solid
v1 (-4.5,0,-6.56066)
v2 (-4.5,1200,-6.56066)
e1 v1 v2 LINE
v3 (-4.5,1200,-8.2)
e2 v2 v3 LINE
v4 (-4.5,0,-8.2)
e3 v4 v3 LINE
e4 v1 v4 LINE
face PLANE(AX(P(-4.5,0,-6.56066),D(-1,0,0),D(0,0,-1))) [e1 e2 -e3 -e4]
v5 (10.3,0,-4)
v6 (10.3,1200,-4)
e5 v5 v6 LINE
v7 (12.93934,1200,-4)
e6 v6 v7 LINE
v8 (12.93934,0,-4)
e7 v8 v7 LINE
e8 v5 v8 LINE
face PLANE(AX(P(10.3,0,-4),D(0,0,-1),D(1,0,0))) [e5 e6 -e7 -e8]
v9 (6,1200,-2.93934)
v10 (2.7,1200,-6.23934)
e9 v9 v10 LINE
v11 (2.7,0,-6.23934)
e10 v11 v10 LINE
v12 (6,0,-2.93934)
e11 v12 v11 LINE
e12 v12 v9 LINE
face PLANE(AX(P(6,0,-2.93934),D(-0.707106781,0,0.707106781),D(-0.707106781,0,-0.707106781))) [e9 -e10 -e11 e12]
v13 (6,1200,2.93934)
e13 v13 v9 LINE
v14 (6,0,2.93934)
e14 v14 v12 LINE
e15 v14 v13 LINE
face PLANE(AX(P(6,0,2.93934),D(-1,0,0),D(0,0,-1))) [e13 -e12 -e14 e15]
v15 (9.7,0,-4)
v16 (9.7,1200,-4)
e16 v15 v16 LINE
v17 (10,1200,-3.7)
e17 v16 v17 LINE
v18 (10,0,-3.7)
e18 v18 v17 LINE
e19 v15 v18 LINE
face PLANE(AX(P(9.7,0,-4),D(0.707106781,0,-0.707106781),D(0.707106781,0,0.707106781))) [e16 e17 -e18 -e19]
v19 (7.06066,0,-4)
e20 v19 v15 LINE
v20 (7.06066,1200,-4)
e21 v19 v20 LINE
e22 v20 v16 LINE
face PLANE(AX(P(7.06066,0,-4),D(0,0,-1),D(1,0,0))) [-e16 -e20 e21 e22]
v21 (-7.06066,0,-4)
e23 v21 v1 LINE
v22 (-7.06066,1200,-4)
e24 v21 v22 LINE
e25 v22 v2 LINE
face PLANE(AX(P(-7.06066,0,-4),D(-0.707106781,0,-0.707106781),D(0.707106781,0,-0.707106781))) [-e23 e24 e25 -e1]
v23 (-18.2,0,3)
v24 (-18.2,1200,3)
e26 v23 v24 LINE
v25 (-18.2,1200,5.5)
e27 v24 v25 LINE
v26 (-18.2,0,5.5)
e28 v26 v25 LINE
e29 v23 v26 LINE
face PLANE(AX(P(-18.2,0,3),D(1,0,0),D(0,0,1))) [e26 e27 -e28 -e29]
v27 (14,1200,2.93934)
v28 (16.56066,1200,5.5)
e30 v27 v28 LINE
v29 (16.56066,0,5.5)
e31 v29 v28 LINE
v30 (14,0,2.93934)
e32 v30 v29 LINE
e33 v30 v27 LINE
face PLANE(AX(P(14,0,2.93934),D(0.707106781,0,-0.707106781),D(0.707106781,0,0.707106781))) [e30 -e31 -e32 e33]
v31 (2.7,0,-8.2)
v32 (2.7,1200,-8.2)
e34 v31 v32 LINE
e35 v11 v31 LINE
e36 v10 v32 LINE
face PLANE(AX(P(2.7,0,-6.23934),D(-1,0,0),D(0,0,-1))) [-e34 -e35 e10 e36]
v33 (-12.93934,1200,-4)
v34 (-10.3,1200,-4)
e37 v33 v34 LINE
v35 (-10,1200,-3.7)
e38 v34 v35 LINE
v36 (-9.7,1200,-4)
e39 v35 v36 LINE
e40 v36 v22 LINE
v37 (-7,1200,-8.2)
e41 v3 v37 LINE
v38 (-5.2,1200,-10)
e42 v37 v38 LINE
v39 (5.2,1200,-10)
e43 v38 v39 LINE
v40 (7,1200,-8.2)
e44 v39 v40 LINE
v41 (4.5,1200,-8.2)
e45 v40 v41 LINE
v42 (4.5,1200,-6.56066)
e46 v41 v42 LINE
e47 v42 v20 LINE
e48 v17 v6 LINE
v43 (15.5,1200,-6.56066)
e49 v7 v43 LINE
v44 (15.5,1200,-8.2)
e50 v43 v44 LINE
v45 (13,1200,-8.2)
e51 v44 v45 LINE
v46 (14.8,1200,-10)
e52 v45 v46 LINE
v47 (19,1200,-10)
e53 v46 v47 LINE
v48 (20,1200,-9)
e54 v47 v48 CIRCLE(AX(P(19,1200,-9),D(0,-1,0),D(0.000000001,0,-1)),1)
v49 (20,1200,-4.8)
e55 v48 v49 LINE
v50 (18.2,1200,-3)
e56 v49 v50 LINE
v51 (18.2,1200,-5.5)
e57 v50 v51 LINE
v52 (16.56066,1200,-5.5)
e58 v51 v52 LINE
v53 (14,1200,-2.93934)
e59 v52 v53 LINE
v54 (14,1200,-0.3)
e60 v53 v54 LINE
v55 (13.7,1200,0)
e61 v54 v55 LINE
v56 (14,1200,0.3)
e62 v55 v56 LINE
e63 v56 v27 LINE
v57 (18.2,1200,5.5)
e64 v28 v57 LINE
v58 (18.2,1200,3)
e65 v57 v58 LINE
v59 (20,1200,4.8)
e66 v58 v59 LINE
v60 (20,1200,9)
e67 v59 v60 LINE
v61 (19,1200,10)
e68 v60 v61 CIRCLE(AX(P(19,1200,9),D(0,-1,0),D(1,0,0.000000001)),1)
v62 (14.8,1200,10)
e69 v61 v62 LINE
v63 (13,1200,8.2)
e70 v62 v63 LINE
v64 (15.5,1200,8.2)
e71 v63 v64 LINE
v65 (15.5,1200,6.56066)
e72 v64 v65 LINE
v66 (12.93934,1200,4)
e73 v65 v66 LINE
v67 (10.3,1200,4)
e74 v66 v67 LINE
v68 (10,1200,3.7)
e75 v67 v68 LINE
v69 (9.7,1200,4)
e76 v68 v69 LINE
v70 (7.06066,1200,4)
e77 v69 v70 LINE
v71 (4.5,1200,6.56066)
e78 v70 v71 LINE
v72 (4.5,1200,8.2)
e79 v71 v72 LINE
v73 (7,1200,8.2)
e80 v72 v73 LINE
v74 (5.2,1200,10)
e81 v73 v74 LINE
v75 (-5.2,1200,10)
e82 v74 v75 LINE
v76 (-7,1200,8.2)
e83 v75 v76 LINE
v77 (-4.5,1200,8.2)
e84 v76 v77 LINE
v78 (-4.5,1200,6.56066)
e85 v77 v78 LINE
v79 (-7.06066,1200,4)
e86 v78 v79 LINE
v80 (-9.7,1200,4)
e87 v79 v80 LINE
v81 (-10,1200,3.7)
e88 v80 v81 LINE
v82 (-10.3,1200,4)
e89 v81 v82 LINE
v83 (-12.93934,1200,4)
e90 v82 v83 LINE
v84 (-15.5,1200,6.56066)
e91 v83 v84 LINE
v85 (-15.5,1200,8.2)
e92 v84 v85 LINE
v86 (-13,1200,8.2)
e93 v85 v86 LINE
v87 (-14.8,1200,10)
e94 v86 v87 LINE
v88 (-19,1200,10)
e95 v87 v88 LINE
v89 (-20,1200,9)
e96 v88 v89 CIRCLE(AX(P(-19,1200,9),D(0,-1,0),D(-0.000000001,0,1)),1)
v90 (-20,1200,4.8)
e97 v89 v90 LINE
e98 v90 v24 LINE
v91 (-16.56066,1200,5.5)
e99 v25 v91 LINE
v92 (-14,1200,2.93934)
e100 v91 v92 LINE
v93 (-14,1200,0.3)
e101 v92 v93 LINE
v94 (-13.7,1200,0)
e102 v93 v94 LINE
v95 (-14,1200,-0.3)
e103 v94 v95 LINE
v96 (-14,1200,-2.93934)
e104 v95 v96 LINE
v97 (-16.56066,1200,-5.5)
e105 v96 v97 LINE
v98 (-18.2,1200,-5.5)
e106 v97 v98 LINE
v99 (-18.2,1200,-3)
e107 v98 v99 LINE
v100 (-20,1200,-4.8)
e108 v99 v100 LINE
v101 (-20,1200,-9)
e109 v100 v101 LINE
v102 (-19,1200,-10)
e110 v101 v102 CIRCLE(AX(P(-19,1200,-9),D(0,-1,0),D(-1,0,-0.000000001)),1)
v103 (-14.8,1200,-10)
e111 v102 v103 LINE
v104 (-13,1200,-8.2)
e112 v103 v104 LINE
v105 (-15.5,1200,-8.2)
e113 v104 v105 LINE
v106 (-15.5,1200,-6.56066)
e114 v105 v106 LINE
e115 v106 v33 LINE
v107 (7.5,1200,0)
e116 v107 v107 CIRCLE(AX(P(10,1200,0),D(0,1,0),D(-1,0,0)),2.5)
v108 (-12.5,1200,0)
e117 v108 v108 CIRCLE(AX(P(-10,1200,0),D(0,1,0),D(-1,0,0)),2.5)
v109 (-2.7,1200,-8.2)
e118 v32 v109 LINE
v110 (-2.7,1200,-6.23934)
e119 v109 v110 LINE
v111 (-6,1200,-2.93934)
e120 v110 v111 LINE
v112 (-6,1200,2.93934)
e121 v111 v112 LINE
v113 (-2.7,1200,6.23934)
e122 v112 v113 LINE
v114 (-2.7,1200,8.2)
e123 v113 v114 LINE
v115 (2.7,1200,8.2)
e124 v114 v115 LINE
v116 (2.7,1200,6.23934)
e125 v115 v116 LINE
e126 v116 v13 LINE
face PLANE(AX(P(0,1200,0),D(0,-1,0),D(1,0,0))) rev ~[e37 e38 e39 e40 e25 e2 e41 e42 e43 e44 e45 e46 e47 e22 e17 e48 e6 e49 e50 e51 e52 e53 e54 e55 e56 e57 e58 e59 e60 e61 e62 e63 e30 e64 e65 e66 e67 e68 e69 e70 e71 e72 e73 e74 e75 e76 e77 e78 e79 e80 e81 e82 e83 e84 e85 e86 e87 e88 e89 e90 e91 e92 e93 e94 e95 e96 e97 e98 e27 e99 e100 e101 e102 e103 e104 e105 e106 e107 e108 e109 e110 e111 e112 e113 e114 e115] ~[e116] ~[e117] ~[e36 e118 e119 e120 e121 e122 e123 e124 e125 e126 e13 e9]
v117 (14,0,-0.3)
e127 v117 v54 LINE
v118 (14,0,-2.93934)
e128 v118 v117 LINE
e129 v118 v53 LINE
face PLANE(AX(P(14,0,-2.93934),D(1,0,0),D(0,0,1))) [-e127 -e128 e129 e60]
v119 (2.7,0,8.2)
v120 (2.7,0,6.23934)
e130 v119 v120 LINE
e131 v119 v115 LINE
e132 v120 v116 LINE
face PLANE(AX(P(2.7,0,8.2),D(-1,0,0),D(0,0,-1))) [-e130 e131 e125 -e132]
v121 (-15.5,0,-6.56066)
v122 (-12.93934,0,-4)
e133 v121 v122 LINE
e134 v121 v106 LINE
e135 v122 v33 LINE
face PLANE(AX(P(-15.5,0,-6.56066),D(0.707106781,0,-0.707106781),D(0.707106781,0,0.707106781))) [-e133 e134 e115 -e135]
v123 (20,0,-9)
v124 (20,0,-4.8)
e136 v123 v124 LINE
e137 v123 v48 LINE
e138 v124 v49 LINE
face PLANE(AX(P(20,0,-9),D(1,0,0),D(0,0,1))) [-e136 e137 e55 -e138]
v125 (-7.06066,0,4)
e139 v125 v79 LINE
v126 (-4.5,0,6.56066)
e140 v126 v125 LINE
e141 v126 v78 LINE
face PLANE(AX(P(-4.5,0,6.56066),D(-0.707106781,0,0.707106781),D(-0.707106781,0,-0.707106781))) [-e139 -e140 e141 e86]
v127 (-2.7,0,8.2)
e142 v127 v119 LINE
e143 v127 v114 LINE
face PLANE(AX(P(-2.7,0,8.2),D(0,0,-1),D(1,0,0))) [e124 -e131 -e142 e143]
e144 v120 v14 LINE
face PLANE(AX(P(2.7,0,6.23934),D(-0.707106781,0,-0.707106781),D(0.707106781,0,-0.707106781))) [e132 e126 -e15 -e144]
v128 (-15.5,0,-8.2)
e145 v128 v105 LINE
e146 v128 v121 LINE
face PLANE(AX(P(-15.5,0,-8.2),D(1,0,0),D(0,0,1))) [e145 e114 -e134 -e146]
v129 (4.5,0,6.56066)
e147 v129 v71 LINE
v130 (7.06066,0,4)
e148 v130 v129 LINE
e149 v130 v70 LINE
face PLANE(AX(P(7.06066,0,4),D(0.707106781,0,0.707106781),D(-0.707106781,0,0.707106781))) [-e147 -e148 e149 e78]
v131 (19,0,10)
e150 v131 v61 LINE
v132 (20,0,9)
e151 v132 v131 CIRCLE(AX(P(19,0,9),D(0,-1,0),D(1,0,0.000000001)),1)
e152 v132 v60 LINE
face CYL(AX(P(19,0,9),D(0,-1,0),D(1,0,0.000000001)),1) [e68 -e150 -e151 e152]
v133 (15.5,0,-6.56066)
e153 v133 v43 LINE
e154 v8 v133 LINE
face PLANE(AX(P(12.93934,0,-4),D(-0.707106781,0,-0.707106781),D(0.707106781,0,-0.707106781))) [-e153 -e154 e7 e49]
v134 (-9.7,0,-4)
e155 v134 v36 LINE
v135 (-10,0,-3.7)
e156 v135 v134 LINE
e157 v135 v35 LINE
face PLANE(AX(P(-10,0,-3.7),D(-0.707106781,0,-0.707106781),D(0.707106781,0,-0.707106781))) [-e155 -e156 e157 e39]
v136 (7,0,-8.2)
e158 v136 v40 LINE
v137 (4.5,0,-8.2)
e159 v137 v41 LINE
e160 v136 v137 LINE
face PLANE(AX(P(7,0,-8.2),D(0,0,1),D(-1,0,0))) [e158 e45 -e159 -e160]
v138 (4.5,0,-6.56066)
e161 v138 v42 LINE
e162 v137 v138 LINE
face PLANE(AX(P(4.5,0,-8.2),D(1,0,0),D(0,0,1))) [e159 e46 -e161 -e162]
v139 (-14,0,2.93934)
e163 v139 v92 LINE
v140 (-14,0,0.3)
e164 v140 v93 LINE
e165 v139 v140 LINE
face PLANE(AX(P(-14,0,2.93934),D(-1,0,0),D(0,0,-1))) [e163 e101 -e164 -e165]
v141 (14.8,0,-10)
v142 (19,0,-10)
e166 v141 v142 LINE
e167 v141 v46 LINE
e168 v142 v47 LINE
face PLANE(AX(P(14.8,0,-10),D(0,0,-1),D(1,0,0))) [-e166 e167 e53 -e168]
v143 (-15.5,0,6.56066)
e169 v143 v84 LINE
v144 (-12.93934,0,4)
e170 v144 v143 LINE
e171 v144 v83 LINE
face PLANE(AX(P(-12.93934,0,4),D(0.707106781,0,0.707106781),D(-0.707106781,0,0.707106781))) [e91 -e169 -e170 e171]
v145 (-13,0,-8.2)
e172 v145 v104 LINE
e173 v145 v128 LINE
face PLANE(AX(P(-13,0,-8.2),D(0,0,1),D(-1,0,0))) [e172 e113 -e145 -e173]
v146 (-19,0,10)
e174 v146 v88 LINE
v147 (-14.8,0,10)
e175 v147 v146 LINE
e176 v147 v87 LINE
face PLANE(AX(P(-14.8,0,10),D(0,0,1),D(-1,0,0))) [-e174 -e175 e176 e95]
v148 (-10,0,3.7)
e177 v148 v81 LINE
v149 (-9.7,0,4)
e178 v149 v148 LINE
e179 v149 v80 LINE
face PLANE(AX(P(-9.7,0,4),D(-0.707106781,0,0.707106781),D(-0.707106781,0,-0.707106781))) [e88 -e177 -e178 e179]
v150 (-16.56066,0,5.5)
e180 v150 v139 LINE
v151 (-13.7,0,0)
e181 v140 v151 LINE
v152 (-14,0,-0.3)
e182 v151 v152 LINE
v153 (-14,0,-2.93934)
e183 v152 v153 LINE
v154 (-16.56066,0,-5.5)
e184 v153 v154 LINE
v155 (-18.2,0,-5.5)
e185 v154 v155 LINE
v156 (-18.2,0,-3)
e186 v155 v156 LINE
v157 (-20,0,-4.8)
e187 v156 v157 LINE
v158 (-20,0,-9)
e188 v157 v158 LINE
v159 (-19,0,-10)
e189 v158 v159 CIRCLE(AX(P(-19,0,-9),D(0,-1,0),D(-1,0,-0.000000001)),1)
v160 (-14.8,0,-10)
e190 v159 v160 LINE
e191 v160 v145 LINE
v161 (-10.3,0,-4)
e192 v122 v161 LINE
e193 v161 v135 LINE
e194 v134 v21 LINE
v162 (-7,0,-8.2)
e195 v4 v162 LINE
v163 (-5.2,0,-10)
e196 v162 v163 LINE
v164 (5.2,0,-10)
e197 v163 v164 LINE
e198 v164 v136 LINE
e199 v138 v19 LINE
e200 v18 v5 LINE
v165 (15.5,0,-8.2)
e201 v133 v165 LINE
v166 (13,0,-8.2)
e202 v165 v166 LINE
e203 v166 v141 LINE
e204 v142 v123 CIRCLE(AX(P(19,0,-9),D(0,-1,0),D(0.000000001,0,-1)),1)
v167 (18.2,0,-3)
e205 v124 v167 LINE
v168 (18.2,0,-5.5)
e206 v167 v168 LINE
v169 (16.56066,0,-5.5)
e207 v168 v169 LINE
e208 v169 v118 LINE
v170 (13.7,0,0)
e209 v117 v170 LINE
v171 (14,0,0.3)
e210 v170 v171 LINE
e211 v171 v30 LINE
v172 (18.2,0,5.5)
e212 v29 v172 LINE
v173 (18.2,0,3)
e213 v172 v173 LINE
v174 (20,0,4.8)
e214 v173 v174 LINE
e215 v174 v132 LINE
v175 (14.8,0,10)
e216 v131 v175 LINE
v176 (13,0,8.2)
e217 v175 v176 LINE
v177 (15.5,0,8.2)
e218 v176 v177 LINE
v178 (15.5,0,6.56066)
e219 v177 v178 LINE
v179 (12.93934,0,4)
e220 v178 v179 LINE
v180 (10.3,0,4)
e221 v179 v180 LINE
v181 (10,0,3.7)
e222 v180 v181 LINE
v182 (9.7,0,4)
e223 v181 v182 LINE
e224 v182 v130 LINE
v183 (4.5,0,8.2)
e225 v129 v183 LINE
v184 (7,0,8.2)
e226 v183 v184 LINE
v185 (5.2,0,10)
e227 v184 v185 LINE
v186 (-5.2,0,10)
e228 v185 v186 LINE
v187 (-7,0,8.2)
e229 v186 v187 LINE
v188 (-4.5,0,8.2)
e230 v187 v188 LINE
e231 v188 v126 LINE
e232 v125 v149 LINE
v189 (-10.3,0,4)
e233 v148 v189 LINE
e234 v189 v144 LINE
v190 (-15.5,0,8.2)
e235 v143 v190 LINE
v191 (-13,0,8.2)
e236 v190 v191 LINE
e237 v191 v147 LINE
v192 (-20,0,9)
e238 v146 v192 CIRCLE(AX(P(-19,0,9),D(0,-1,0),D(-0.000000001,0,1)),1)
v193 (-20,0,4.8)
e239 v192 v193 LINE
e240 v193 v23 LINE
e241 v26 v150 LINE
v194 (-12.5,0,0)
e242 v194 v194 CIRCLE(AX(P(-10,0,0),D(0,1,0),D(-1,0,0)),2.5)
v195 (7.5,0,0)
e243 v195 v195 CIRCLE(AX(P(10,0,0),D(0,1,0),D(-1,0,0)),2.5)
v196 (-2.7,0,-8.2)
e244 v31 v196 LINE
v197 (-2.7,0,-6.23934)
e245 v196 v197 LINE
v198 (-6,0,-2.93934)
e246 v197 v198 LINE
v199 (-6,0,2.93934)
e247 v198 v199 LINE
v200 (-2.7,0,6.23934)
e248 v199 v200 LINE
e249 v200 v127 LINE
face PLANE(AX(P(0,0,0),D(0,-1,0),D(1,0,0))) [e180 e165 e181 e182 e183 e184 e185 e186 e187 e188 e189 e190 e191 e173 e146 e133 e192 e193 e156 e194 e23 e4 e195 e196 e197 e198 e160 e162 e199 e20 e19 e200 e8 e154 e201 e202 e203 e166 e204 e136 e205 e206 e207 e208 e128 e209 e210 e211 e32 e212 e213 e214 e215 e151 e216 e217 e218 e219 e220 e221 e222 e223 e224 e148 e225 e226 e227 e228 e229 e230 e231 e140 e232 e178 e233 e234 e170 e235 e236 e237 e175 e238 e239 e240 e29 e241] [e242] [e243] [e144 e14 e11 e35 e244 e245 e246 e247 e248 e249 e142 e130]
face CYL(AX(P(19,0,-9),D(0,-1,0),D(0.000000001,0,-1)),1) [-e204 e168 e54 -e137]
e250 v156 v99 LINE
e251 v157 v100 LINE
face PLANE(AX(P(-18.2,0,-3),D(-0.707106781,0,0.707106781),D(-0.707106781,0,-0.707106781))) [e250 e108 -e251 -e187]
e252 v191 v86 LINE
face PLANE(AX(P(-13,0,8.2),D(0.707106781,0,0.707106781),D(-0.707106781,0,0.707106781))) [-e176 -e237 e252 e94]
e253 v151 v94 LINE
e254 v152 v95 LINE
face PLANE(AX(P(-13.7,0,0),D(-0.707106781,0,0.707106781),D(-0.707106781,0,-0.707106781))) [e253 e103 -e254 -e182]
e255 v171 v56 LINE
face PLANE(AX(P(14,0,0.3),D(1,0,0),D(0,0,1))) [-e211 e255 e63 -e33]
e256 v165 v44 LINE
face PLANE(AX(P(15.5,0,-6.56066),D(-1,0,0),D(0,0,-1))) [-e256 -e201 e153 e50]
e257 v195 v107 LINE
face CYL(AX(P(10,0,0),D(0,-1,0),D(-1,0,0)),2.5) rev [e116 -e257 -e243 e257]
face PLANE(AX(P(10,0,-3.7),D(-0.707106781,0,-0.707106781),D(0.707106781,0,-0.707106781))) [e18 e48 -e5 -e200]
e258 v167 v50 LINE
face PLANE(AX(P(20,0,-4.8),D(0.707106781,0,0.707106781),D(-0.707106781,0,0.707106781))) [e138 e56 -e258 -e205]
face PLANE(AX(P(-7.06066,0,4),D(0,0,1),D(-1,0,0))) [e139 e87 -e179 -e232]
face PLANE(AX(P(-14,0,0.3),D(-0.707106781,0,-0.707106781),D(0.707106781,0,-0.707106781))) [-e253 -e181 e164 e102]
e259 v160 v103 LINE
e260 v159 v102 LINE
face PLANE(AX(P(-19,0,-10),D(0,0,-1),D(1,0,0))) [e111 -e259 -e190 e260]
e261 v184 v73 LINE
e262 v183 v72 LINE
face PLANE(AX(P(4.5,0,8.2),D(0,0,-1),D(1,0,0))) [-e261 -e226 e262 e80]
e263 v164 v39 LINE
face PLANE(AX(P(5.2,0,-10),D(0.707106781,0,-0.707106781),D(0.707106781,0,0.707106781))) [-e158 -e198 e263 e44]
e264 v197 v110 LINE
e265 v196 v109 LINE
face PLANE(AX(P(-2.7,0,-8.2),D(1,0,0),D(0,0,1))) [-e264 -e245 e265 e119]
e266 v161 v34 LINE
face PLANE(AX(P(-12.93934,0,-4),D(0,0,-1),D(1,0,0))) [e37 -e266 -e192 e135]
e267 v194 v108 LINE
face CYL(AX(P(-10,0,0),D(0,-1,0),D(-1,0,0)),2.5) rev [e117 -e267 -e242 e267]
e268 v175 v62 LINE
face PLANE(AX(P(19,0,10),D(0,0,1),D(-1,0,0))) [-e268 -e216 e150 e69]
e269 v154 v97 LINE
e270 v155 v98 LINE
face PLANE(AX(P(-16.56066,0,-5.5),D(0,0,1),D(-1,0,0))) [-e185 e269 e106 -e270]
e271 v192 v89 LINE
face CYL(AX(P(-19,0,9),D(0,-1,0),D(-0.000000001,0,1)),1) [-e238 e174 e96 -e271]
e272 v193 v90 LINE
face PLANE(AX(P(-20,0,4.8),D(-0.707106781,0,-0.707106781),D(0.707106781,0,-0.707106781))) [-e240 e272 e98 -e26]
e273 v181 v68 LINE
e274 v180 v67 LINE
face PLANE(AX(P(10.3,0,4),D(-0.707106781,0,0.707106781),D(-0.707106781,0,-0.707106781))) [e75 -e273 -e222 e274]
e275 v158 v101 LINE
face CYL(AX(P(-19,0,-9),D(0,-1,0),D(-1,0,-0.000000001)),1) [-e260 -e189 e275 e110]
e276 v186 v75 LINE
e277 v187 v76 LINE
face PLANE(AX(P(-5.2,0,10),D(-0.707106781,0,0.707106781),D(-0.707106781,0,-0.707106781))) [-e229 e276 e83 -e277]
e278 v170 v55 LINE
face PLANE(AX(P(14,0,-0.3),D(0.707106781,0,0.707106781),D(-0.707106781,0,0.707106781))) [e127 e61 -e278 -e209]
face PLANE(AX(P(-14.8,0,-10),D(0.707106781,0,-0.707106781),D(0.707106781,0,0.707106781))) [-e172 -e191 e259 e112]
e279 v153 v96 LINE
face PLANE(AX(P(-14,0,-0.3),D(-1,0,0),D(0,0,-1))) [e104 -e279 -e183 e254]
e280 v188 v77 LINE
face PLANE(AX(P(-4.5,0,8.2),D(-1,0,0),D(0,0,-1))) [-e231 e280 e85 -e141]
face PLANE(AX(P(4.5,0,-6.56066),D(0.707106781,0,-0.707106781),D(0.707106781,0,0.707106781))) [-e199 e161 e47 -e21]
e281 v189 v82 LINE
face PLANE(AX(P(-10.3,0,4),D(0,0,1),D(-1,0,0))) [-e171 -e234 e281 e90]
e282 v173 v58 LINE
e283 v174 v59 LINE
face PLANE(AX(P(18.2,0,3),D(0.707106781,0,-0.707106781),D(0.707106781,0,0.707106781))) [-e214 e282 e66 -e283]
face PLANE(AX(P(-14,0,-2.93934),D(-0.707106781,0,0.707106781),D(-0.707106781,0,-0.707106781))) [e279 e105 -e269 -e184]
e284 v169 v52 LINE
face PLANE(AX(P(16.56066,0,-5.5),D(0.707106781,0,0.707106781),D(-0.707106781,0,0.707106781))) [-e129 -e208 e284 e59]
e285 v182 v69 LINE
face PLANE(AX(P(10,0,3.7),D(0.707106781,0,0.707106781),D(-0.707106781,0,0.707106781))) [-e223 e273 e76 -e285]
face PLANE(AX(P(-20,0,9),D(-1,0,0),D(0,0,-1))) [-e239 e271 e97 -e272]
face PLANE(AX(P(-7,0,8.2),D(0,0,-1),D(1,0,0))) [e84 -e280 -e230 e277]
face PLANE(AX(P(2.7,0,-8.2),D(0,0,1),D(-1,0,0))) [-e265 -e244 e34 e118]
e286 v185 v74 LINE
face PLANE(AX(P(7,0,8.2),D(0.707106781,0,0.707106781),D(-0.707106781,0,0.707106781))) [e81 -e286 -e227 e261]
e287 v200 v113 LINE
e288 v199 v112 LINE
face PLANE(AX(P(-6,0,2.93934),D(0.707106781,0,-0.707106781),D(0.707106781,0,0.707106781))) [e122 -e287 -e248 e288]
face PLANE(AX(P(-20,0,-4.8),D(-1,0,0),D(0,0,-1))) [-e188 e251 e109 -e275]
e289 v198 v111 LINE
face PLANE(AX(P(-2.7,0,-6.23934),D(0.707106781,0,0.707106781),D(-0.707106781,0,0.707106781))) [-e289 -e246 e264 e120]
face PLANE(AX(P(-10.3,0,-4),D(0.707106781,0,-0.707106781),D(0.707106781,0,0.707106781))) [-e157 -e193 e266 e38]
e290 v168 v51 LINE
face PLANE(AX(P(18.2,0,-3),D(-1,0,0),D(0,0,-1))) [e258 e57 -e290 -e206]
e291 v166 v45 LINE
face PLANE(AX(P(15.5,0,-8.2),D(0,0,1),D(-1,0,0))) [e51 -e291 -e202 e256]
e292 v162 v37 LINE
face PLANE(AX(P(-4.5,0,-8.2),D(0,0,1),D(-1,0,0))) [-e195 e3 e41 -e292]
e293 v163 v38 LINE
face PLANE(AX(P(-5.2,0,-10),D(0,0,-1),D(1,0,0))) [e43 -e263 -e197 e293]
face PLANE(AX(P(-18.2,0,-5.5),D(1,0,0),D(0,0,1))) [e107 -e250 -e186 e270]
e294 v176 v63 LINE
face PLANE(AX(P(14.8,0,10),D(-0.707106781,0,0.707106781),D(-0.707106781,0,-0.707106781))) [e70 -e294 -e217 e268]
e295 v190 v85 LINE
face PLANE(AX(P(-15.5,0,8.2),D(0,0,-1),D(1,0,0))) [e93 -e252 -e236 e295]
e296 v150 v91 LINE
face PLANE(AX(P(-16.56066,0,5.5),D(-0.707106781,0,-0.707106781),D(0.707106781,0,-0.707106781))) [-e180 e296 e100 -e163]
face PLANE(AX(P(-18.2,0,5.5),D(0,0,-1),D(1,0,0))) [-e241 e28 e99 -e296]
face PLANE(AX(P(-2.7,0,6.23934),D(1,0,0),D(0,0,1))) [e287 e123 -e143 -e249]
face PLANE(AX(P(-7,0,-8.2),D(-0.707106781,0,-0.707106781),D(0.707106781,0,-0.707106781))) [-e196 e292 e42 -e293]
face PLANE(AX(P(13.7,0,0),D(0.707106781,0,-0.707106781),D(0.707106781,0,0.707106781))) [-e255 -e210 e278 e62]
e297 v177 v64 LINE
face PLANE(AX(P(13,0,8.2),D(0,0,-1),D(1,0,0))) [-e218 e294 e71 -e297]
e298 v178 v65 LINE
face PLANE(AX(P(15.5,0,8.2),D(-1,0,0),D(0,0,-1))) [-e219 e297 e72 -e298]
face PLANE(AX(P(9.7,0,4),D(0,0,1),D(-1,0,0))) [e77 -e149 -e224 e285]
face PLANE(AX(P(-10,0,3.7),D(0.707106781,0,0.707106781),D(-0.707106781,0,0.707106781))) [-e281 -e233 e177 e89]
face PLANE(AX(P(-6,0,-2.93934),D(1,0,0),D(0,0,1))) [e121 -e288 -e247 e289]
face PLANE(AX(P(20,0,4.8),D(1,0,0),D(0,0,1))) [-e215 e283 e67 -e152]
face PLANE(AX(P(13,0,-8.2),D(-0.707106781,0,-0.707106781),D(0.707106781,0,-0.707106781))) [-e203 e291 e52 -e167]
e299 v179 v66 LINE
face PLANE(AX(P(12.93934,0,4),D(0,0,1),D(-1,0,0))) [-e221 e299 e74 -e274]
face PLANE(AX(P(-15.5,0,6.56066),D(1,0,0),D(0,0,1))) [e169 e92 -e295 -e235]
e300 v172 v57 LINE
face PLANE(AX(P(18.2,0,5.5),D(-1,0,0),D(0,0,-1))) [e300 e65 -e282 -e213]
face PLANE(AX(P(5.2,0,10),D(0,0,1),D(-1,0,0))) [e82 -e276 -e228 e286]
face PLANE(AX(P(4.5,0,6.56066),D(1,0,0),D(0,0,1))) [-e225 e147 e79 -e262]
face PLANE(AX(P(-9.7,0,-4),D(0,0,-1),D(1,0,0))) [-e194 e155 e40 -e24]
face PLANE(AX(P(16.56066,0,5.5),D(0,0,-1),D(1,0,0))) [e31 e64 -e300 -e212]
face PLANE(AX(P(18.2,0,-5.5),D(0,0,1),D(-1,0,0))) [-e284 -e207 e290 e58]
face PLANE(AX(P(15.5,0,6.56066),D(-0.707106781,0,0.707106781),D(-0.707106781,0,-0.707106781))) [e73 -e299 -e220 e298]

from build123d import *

# Parameters (mm, degrees)
SKETCH13_R                                  = 2.5
RETANGULAR_PF20_12_PERFIL_2040_V_SLOT_DEPTH = 1200


with BuildPart() as part:
    # Sketch13 → Retangular PF20-12 - PERFIL 2040 V-SLOT(1) (new body)
    with BuildSketch(Plane(origin=(0, 0, 0), x_dir=(-1, 0, 0), z_dir=(0, 1, 0))):
        with BuildLine():
            Line((-14.8, 10), (-13, 8.2))
            Line((-13, 8.2), (-15.5, 8.2))
            Line((-15.5, 8.2), (-15.5, 6.560660172))
            Line((-15.5, 6.560660172), (-12.939339828, 4))
            Line((-12.939339828, 4), (-10.3, 4))
            Line((-10.3, 4), (-10, 3.7))
            Line((-10, 3.7), (-9.7, 4))
            Line((-9.7, 4), (-7.060660172, 4))
            Line((-7.060660172, 4), (-4.5, 6.560660172))
            Line((-4.5, 6.560660172), (-4.5, 8.2))
            Line((-4.5, 8.2), (-7, 8.2))
            Line((-7, 8.2), (-5.2, 10))
            Line((-5.2, 10), (5.2, 10))
            Line((5.2, 10), (7, 8.2))
            Line((7, 8.2), (4.5, 8.2))
            Line((4.5, 8.2), (4.5, 6.560660172))
            Line((4.5, 6.560660172), (7.060660172, 4))
            Line((7.060660172, 4), (9.7, 4))
            Line((9.7, 4), (10, 3.7))
            Line((10, 3.7), (10.3, 4))
            Line((10.3, 4), (12.939339828, 4))
            Line((12.939339828, 4), (15.5, 6.560660172))
            Line((15.5, 6.560660172), (15.5, 8.2))
            Line((15.5, 8.2), (13, 8.2))
            Line((13, 8.2), (14.8, 10))
            Line((14.8, 10), (19, 10))
            ThreePointArc((19, 10), (19.707106781, 9.707106781), (20, 9))
            Line((20, 9), (20, 4.8))
            Line((20, 4.8), (18.2, 3))
            Line((18.2, 3), (18.2, 5.5))
            Line((18.2, 5.5), (16.560660172, 5.5))
            Line((16.560660172, 5.5), (14, 2.939339828))
            Line((14, 2.939339828), (14, 0.3))
            Line((14, 0.3), (13.7, 0))
            Line((13.7, 0), (14, -0.3))
            Line((14, -0.3), (14, -2.939339828))
            Line((14, -2.939339828), (16.560660172, -5.5))
            Line((16.560660172, -5.5), (18.2, -5.5))
            Line((18.2, -5.5), (18.2, -3))
            Line((18.2, -3), (20, -4.8))
            Line((20, -4.8), (20, -9))
            ThreePointArc((20, -9), (19.707106781, -9.707106781), (19, -10))
            Line((19, -10), (14.8, -10))
            Line((14.8, -10), (13, -8.2))
            Line((13, -8.2), (15.5, -8.2))
            Line((15.5, -8.2), (15.5, -6.560660172))
            Line((15.5, -6.560660172), (12.939339828, -4))
            Line((12.939339828, -4), (10.3, -4))
            Line((10.3, -4), (10, -3.7))
            Line((10, -3.7), (9.7, -4))
            Line((9.7, -4), (7.060660172, -4))
            Line((7.060660172, -4), (4.5, -6.560660172))
            Line((4.5, -6.560660172), (4.5, -8.2))
            Line((4.5, -8.2), (7, -8.2))
            Line((7, -8.2), (5.2, -10))
            Line((5.2, -10), (-5.2, -10))
            Line((-5.2, -10), (-7, -8.2))
            Line((-7, -8.2), (-4.5, -8.2))
            Line((-4.5, -8.2), (-4.5, -6.560660172))
            Line((-4.5, -6.560660172), (-7.060660172, -4))
            Line((-7.060660172, -4), (-9.7, -4))
            Line((-9.7, -4), (-10, -3.7))
            Line((-10, -3.7), (-10.3, -4))
            Line((-10.3, -4), (-12.939339828, -4))
            Line((-12.939339828, -4), (-15.5, -6.560660172))
            Line((-15.5, -6.560660172), (-15.5, -8.2))
            Line((-15.5, -8.2), (-13, -8.2))
            Line((-13, -8.2), (-14.8, -10))
            Line((-14.8, -10), (-19, -10))
            ThreePointArc((-19, -10), (-19.707106781, -9.707106781), (-20, -9))
            Line((-20, -9), (-20, -4.8))
            Line((-20, -4.8), (-18.2, -3))
            Line((-18.2, -3), (-18.2, -5.5))
            Line((-18.2, -5.5), (-16.560660172, -5.5))
            Line((-16.560660172, -5.5), (-14, -2.939339828))
            Line((-14, -2.939339828), (-14, -0.3))
            Line((-14, -0.3), (-13.7, 0))
            Line((-13.7, 0), (-14, 0.3))
            Line((-14, 0.3), (-14, 2.939339828))
            Line((-14, 2.939339828), (-16.560660172, 5.5))
            Line((-16.560660172, 5.5), (-18.2, 5.5))
            Line((-18.2, 5.5), (-18.2, 3))
            Line((-18.2, 3), (-20, 4.8))
            Line((-20, 4.8), (-20, 9))
            ThreePointArc((-20, 9), (-19.707106781, 9.707106781), (-19, 10))
            Line((-19, 10), (-14.8, 10))
        make_face()
        with Locations((-10, 0)):
            Circle(SKETCH13_R, mode=Mode.SUBTRACT)
        with Locations((10, 0)):
            Circle(SKETCH13_R, mode=Mode.SUBTRACT)
        Polygon((-2.7, 8.2), (-2.7, 6.239339828), (-6, 2.939339828), (-6, -2.939339828), (-2.7, -6.239339828), (-2.7, -8.2), (2.7, -8.2), (2.7, -6.239339828), (6, -2.939339828), (6, 2.939339828), (2.7, 6.239339828), (2.7, 8.2), align=None, mode=Mode.SUBTRACT)
    extrude(amount=RETANGULAR_PF20_12_PERFIL_2040_V_SLOT_DEPTH)


solid = part.part
